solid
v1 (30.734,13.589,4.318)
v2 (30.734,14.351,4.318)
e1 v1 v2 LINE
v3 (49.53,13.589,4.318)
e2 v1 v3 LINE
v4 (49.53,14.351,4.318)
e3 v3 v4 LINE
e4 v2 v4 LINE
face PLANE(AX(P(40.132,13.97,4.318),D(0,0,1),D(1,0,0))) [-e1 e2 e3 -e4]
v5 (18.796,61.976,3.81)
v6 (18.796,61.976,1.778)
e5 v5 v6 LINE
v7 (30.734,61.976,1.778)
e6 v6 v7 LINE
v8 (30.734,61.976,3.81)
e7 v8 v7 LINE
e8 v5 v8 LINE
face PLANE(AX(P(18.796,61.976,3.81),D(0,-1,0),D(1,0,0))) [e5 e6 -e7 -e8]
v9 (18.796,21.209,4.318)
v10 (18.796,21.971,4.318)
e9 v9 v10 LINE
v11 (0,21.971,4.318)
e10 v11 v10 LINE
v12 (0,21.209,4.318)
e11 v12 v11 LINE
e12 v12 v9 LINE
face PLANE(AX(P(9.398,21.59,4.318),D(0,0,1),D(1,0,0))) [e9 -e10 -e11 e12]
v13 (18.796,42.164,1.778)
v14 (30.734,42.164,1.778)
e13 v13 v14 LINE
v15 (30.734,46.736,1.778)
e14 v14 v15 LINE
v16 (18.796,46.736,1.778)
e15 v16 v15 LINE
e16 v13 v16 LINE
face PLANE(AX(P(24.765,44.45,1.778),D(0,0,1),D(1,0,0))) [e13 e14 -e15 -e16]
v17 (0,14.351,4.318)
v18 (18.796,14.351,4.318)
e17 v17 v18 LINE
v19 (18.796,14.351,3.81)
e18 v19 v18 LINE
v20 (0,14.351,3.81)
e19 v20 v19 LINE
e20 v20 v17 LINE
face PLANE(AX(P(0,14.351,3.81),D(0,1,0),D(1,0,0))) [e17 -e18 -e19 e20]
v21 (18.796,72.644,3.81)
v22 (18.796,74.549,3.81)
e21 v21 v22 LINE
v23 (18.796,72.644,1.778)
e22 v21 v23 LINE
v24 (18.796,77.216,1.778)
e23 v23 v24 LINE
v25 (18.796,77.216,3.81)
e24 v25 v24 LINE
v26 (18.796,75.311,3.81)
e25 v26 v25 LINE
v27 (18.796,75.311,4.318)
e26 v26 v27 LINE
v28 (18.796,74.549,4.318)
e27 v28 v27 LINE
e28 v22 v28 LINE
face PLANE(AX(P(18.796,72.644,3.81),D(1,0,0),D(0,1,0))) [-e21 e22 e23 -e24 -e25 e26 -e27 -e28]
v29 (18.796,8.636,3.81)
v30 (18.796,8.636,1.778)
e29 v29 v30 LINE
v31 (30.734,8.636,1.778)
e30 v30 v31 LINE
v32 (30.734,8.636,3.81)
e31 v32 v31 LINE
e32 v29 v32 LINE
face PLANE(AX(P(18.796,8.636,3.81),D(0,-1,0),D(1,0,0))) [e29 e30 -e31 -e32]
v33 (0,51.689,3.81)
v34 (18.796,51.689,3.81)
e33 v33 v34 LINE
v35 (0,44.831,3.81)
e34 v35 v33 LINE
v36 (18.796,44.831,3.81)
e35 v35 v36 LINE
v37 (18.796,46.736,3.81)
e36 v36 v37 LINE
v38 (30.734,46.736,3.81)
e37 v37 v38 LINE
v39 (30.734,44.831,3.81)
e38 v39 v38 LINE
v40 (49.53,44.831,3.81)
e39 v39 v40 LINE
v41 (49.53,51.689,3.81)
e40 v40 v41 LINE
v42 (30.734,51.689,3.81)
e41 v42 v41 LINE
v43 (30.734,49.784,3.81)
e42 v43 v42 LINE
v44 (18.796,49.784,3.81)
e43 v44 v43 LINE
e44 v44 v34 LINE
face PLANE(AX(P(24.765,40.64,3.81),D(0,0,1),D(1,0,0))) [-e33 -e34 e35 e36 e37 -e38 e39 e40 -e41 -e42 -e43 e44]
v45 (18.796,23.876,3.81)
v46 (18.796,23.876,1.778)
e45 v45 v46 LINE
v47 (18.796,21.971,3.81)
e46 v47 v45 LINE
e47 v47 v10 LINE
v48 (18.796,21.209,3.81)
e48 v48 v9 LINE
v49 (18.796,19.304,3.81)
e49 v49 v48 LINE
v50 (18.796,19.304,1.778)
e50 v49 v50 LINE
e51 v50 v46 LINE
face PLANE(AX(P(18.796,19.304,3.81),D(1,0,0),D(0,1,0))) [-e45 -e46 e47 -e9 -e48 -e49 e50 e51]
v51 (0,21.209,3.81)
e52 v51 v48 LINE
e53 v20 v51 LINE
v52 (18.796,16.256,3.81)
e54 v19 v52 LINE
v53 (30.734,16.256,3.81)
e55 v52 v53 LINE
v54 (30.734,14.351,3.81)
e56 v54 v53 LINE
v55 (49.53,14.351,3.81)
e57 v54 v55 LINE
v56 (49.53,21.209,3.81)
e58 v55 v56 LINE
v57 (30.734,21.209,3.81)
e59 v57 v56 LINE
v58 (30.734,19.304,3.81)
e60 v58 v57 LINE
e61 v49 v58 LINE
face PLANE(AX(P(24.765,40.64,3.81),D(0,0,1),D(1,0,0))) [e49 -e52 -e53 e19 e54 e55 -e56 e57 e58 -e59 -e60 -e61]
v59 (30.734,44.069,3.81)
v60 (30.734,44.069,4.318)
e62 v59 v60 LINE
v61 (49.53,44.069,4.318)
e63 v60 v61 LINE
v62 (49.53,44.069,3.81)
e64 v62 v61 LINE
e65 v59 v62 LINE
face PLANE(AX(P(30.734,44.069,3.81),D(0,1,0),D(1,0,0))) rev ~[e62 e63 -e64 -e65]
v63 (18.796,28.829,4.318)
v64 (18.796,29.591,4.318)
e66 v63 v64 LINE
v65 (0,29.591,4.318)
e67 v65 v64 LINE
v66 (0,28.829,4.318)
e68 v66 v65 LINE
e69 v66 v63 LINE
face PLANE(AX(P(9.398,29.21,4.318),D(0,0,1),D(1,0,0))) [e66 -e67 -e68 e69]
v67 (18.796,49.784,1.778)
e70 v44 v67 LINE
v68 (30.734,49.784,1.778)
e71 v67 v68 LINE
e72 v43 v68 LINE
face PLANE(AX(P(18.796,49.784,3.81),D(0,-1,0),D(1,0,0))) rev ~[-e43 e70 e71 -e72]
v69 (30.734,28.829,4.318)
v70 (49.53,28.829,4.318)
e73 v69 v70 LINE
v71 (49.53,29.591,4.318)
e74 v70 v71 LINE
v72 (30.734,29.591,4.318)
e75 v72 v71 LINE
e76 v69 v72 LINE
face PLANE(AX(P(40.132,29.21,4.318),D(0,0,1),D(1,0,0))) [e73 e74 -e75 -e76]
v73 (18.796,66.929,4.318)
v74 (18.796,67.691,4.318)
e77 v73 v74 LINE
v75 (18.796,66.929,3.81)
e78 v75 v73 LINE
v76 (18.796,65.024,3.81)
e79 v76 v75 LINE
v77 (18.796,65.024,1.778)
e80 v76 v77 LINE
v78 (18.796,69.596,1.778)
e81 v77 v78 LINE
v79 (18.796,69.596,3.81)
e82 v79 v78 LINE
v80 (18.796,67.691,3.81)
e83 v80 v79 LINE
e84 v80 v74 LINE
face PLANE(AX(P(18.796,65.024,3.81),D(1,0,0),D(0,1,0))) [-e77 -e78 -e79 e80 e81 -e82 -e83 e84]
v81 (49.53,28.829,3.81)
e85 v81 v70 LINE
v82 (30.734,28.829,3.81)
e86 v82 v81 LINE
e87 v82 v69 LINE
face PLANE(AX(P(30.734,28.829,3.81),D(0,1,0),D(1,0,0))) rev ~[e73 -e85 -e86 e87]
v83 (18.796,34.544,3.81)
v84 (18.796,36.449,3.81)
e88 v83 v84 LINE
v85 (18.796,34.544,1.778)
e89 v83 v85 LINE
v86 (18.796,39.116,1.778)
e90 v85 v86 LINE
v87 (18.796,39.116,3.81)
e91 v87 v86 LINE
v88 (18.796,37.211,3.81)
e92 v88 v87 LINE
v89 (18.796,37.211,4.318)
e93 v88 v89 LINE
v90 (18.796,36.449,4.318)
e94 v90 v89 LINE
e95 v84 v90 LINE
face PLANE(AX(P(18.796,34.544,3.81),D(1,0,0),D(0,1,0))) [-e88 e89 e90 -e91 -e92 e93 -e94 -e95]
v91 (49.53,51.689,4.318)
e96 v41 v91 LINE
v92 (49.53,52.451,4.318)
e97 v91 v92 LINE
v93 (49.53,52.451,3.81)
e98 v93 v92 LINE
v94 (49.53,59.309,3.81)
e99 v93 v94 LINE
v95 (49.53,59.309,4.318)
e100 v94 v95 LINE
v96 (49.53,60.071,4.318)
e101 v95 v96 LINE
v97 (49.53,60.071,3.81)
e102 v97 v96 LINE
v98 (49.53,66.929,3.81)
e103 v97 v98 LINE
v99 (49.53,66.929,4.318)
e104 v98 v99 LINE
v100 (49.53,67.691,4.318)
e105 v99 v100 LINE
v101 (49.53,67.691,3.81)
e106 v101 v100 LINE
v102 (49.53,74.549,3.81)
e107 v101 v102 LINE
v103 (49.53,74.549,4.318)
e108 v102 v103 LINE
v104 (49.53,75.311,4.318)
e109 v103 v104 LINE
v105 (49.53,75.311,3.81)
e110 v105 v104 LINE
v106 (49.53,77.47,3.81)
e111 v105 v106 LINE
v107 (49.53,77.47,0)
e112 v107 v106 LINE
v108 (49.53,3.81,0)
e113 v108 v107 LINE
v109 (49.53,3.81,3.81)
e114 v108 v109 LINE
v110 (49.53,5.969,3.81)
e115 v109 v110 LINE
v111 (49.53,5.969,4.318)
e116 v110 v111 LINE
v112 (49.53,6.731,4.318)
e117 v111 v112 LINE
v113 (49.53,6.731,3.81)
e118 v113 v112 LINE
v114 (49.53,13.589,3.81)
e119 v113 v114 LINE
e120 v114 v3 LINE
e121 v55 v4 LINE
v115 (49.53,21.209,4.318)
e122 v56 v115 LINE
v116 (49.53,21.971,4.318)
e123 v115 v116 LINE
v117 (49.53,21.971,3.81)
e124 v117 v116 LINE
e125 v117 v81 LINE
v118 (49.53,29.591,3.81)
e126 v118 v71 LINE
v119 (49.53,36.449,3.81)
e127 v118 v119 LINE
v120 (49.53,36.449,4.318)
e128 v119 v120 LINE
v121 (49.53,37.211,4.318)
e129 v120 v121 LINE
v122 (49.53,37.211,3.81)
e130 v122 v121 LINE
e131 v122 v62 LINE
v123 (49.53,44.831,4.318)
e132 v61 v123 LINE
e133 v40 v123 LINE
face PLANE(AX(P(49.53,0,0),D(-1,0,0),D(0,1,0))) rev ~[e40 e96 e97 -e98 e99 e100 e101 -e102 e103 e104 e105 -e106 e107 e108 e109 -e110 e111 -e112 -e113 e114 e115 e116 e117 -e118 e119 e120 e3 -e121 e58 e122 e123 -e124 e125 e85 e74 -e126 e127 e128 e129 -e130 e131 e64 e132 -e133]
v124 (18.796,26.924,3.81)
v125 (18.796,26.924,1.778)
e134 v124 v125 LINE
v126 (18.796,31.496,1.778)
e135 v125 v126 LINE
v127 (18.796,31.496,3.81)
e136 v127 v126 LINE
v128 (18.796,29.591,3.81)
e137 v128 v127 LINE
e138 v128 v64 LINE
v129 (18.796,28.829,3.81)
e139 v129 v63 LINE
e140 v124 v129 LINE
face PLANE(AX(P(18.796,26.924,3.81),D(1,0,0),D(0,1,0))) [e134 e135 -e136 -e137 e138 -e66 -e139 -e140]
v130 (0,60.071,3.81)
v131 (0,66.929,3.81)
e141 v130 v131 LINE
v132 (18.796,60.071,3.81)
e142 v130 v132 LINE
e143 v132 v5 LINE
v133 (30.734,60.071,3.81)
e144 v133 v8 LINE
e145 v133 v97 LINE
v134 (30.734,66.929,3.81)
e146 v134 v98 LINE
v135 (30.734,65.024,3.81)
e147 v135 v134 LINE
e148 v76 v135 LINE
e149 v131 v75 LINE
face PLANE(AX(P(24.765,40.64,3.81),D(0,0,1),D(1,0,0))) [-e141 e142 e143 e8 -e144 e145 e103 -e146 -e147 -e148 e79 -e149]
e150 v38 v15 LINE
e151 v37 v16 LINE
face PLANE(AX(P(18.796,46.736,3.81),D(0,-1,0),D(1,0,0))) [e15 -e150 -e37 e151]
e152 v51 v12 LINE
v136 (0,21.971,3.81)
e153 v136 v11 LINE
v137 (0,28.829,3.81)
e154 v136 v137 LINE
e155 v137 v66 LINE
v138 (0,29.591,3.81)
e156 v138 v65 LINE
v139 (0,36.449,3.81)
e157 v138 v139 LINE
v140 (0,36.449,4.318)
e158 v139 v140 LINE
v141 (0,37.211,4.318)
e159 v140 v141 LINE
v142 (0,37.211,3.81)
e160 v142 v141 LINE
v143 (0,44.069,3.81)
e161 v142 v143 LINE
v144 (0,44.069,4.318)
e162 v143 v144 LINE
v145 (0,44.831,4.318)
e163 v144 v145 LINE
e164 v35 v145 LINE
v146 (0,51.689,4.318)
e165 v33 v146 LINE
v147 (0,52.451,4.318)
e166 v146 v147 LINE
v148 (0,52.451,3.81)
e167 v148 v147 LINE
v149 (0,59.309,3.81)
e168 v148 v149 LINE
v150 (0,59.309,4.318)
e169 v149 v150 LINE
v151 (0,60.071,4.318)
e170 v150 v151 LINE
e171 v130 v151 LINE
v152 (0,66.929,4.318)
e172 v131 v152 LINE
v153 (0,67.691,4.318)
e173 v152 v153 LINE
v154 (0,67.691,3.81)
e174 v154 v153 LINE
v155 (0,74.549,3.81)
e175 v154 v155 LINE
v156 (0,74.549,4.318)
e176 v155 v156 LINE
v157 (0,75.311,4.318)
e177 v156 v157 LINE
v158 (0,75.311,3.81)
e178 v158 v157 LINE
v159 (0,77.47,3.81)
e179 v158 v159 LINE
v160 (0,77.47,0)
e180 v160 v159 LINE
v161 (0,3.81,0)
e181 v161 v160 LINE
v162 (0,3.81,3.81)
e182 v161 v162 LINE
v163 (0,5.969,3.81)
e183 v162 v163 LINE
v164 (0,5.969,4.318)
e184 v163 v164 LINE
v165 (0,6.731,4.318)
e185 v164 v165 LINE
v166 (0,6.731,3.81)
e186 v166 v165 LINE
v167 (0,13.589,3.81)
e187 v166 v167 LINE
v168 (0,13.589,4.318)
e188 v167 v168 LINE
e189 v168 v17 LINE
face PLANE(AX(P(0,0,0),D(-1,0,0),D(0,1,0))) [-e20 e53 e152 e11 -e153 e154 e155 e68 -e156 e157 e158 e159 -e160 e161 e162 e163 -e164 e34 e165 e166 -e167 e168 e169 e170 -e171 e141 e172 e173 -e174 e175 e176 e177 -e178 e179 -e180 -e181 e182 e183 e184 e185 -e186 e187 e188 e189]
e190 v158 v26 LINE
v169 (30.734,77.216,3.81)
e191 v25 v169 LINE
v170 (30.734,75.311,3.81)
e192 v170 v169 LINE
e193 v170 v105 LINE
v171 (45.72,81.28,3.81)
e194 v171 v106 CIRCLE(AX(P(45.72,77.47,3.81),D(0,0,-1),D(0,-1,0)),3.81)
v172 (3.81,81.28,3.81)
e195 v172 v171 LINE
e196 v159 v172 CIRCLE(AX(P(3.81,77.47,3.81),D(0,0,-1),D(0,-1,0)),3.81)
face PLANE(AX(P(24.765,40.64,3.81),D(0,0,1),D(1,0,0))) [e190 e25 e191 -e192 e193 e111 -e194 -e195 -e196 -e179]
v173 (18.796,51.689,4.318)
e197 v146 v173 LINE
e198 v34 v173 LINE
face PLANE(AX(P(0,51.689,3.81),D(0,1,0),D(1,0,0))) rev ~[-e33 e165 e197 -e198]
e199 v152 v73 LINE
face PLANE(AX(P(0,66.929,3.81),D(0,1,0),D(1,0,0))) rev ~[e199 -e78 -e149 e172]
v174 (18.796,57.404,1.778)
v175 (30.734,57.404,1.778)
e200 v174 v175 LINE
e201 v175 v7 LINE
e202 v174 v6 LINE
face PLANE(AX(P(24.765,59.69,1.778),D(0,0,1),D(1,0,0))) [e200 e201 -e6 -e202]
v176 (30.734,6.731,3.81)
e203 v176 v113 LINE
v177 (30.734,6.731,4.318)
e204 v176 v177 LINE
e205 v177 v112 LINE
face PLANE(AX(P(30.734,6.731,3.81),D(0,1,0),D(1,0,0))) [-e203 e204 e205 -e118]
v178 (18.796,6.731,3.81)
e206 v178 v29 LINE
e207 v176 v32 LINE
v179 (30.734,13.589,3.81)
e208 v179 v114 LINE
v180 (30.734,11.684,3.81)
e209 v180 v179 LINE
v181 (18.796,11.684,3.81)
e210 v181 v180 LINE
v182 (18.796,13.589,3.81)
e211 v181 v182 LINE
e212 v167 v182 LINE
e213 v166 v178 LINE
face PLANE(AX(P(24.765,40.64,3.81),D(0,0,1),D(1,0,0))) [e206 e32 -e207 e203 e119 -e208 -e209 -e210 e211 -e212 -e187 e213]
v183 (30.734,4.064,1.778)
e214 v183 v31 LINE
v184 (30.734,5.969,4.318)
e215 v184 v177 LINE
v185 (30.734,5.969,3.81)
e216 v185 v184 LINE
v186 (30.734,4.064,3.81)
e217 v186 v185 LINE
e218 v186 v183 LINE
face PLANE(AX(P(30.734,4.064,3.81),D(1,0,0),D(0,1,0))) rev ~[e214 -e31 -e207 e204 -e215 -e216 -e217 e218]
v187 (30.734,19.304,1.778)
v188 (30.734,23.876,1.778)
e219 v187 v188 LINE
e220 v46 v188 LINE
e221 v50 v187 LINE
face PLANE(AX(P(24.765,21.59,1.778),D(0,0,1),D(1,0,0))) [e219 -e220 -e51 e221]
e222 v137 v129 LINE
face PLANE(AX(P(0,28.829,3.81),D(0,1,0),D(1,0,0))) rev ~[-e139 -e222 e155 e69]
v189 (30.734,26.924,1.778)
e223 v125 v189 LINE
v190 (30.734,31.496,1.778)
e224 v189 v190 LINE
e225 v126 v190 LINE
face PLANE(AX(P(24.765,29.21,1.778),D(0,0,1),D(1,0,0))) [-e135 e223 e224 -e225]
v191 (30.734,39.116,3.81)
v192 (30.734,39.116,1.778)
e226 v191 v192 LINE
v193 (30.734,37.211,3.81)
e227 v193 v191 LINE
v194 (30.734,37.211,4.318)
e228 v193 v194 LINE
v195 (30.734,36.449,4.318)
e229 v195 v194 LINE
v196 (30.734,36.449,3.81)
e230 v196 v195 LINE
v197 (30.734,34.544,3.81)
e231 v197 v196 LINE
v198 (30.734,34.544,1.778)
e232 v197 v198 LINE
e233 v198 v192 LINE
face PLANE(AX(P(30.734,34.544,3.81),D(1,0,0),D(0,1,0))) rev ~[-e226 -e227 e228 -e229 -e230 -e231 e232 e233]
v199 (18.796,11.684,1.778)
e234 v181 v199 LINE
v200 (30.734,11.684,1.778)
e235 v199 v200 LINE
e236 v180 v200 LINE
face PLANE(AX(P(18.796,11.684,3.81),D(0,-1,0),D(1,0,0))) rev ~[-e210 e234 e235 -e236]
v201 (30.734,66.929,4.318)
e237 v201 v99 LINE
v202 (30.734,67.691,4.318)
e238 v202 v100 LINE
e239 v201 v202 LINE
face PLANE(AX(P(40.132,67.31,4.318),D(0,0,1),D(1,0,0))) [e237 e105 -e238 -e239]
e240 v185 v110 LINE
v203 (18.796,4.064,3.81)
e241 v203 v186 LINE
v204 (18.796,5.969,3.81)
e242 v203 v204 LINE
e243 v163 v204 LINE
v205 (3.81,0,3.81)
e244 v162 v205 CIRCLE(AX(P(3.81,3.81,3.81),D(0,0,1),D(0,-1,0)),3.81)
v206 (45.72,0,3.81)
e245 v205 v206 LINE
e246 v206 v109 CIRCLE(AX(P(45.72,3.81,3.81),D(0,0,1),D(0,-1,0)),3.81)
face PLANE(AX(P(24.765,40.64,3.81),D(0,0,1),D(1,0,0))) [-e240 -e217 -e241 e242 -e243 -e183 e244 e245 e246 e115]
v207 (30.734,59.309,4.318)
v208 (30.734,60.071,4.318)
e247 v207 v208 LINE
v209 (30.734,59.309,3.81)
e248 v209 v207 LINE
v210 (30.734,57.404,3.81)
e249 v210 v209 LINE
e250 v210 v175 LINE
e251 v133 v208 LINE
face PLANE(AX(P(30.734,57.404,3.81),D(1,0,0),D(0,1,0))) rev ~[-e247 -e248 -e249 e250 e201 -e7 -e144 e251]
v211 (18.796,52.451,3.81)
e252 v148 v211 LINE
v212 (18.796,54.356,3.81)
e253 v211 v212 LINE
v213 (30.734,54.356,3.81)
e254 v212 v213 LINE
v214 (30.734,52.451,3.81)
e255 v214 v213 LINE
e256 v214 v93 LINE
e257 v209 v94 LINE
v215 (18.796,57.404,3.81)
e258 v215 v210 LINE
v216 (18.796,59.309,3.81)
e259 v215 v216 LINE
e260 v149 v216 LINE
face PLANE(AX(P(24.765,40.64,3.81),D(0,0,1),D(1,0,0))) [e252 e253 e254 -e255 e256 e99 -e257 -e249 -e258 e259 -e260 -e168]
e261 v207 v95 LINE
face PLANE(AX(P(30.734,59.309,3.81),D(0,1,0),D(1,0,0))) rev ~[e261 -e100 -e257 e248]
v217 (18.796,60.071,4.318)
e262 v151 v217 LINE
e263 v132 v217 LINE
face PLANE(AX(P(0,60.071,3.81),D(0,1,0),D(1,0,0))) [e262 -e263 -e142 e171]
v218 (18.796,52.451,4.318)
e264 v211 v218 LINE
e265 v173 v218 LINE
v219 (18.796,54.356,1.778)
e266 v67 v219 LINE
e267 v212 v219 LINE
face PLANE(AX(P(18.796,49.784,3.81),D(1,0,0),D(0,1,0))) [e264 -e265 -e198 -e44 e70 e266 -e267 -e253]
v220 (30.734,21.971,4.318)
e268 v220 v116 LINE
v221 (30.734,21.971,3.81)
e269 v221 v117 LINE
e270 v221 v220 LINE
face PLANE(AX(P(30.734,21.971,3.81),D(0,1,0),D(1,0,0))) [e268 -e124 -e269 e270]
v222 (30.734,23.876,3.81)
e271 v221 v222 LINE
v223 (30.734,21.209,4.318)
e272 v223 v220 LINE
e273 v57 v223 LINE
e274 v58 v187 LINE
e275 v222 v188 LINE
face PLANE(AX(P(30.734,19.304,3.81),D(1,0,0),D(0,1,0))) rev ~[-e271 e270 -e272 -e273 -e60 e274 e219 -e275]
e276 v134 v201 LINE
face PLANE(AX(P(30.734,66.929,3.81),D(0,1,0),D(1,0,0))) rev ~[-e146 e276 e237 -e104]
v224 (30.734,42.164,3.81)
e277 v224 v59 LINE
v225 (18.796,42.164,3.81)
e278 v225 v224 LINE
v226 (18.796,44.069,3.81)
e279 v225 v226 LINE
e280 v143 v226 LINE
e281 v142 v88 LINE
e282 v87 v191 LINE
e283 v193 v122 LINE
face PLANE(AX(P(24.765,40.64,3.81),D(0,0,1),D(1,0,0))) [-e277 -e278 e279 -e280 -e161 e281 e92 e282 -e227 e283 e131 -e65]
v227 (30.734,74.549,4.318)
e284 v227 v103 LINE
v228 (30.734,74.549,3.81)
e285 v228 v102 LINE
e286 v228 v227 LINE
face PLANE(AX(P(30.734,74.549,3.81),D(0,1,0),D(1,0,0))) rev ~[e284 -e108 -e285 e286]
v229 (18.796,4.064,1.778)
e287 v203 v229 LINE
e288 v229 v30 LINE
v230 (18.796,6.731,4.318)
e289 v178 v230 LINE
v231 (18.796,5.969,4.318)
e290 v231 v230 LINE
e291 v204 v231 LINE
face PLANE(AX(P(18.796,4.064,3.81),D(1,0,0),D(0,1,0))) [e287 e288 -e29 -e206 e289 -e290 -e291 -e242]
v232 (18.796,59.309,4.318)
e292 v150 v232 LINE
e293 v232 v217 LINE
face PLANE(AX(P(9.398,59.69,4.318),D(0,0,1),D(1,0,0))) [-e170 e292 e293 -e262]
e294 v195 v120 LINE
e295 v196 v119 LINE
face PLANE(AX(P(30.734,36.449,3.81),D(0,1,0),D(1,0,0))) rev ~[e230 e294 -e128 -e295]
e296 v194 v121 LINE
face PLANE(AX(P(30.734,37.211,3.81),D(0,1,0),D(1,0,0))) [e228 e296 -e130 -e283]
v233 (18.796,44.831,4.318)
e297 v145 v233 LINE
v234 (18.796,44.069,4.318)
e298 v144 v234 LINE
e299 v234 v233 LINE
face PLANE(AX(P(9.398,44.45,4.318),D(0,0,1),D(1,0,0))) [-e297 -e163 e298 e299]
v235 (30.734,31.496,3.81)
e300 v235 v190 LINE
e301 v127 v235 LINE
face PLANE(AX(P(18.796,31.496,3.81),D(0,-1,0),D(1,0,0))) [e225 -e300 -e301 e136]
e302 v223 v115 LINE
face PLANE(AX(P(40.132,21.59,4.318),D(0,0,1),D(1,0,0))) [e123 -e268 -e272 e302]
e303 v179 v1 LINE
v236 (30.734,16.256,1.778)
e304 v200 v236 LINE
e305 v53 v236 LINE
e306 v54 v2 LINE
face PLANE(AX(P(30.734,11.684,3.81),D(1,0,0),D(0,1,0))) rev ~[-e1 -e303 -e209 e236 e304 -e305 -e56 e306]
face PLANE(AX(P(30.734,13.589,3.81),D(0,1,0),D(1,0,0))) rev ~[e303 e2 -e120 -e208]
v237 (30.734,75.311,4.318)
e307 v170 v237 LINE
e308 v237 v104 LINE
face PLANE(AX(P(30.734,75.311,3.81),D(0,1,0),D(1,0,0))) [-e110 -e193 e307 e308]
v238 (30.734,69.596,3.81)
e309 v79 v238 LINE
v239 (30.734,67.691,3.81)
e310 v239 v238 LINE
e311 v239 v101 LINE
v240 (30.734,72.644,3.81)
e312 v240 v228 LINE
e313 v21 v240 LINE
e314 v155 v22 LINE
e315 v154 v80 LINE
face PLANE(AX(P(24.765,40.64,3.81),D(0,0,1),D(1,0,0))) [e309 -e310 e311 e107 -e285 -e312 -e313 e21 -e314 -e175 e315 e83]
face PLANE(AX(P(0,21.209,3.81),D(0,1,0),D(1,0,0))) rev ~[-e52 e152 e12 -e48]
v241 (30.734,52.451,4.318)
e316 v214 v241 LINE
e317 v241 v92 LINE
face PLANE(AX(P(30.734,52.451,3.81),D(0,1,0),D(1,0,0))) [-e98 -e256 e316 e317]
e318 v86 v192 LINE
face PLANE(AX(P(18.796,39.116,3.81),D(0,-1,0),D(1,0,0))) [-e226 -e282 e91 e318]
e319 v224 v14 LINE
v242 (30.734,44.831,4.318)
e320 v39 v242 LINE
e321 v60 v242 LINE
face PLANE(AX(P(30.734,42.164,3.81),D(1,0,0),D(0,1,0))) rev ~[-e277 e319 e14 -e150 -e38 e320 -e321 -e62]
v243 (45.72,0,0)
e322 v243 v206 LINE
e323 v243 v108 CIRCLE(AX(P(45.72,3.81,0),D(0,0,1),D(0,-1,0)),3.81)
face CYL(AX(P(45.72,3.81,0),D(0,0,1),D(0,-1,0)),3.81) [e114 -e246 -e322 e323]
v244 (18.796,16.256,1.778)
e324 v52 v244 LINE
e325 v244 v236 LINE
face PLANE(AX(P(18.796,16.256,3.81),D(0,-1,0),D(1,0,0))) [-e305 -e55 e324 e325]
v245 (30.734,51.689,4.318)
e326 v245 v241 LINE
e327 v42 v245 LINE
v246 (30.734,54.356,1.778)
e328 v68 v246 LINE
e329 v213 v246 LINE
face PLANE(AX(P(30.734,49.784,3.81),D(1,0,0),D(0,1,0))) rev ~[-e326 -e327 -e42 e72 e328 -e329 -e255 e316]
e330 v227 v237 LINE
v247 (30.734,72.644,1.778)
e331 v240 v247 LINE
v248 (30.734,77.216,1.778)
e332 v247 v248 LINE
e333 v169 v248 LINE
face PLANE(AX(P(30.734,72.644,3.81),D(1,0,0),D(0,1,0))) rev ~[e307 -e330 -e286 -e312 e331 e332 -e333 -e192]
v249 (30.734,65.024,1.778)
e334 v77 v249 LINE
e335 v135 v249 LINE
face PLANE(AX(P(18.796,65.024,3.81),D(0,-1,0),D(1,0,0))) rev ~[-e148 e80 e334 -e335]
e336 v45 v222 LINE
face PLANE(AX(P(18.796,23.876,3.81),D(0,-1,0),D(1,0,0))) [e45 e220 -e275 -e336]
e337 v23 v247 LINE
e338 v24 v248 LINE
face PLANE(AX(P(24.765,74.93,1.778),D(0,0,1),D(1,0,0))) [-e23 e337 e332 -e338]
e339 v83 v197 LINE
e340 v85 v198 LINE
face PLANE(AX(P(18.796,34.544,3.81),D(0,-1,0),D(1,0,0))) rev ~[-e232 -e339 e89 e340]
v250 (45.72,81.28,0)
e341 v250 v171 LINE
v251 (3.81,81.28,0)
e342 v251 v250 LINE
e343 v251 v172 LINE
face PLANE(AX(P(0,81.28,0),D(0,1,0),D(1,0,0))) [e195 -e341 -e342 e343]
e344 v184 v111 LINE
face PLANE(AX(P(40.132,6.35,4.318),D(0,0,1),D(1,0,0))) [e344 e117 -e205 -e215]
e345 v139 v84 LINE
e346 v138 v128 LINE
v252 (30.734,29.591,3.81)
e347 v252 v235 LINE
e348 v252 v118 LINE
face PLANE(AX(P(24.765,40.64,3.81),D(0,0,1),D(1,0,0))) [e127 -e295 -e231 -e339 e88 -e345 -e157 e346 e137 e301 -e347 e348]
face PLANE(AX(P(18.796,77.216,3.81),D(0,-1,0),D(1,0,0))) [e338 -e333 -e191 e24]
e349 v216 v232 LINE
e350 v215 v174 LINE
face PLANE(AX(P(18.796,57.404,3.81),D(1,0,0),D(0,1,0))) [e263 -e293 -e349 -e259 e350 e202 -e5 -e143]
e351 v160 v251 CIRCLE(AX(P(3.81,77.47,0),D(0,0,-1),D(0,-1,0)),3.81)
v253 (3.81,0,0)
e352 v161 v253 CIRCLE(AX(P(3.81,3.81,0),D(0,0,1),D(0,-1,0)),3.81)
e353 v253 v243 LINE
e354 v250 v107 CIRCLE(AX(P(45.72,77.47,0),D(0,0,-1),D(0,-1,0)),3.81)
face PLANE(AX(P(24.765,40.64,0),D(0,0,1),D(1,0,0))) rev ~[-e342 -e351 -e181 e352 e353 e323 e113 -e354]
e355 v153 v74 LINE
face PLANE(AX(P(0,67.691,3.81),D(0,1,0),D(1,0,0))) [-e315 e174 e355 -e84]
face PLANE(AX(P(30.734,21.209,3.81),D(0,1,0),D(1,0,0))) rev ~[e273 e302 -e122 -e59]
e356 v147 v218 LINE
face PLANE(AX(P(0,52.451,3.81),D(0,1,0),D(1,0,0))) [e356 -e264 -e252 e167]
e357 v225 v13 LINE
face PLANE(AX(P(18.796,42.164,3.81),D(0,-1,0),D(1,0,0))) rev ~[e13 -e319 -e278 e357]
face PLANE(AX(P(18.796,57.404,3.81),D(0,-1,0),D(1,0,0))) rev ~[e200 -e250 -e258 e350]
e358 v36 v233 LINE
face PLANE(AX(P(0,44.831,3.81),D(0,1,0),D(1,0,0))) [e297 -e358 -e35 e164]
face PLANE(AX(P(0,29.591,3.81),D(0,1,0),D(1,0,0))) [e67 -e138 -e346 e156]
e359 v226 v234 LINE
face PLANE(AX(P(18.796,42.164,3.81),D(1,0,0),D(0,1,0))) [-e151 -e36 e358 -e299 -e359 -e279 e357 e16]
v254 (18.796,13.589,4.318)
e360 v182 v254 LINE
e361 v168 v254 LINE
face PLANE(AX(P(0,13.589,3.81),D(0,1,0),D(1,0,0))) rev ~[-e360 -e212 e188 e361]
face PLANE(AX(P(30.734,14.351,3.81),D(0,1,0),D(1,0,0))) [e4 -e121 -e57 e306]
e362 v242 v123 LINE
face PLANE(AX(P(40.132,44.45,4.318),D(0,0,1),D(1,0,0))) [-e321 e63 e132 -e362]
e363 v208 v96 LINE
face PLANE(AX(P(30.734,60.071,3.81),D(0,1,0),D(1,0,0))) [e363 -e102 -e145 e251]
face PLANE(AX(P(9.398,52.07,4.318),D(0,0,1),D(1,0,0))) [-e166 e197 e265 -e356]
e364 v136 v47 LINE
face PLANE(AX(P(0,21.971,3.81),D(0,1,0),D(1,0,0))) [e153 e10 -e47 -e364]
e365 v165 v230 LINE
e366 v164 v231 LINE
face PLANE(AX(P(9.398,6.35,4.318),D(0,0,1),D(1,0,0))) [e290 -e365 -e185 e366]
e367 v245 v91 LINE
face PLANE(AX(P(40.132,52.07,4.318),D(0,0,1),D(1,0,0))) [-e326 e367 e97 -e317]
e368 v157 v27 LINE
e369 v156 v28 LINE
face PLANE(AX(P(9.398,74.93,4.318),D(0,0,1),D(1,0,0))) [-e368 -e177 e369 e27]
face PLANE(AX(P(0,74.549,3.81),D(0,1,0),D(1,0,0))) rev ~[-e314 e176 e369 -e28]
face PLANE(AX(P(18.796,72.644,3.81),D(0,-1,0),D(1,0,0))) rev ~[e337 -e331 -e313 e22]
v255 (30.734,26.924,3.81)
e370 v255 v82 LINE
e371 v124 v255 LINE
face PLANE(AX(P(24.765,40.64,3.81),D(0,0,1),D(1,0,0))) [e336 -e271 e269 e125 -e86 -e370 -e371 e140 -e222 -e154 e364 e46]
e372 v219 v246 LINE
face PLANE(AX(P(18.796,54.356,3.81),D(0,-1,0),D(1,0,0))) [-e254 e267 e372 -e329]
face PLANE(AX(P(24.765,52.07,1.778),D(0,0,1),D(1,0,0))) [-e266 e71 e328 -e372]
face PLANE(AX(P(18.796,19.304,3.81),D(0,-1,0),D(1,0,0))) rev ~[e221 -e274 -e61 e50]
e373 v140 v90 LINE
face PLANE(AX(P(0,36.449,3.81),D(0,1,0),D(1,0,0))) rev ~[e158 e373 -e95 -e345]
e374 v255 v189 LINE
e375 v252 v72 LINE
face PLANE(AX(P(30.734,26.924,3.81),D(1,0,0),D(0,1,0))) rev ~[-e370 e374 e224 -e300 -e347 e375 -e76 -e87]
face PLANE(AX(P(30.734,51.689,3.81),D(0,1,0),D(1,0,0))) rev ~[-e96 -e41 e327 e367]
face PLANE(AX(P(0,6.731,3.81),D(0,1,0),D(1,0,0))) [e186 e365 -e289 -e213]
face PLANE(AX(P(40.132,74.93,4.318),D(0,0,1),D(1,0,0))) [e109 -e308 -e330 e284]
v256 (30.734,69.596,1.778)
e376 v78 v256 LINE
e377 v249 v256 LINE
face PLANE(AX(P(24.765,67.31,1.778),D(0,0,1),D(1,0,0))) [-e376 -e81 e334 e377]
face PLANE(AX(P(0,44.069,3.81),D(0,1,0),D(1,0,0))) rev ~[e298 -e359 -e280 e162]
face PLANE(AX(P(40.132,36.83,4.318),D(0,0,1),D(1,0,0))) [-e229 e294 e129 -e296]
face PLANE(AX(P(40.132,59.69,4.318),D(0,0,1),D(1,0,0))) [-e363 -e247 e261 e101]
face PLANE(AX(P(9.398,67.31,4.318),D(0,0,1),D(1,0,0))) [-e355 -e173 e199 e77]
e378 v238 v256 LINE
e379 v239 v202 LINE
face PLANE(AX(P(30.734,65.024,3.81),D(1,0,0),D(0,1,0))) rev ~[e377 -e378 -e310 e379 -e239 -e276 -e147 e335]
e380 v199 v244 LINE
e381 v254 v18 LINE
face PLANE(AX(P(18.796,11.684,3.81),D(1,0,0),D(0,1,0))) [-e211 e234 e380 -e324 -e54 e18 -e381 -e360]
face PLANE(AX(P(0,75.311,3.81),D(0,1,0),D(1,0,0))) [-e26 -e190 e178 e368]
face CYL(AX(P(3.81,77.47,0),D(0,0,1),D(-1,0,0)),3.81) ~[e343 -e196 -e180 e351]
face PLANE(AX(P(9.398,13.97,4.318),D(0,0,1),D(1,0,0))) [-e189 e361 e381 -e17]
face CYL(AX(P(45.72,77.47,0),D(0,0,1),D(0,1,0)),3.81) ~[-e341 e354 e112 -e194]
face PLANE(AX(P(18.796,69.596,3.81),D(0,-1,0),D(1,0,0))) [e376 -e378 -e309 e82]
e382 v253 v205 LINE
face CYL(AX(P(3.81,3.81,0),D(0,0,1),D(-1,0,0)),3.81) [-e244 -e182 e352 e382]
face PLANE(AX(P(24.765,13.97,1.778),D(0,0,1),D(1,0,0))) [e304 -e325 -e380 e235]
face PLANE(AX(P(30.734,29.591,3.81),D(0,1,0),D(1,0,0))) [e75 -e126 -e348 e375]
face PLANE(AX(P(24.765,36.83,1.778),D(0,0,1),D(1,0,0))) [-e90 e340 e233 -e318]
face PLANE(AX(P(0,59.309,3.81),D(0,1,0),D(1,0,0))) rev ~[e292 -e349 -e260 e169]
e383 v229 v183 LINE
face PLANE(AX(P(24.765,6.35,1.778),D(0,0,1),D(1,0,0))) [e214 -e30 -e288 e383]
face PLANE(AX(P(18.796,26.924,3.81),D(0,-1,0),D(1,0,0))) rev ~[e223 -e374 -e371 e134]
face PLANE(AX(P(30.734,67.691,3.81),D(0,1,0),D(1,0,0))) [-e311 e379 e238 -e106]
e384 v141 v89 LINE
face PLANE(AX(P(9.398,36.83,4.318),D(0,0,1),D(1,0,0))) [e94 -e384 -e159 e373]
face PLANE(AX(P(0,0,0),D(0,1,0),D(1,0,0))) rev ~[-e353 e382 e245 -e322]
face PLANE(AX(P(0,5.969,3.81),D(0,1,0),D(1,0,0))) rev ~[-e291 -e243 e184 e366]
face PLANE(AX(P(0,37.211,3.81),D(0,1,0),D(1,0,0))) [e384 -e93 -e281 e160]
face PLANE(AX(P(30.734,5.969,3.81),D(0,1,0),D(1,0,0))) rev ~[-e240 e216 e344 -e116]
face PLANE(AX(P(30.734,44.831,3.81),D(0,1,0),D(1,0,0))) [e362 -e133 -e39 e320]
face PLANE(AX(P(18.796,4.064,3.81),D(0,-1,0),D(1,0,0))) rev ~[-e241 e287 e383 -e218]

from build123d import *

# Parameters (mm, degrees)
F0_W     = 49.53
F0_H     = 81.28
F1_DEPTH = 3.81
F2_W     = 11.938
F2_H     = 4.572
F3_DEPTH = 2.032
F4_W     = 18.796
F4_H     = 0.762
F5_DEPTH = 0.508
F6_R     = 3.81


with BuildPart() as f1:
    # F0 (on Top) → F1 (new body)
    with BuildSketch(Plane.XY):
        with Locations((24.765, 40.64)):
            Rectangle(F0_W, F0_H)
    extrude(amount=F1_DEPTH)

    # F2 (on face) → F3 (cut)
    with BuildSketch(Plane.XY.offset(3.81)):
        with Locations((24.765, 6.35)):
            Rectangle(F2_W, F2_H)
        with Locations((24.765, 13.97)):
            Rectangle(F2_W, F2_H)
        with Locations((24.765, 21.59)):
            Rectangle(F2_W, F2_H)
        with Locations((24.765, 29.21)):
            Rectangle(F2_W, F2_H)
        with Locations((24.765, 36.83)):
            Rectangle(F2_W, F2_H)
        with Locations((24.765, 44.45)):
            Rectangle(F2_W, F2_H)
        with Locations((24.765, 52.07)):
            Rectangle(F2_W, F2_H)
        with Locations((24.765, 59.69)):
            Rectangle(F2_W, F2_H)
        with Locations((24.765, 67.31)):
            Rectangle(F2_W, F2_H)
        with Locations((24.765, 74.93)):
            Rectangle(F2_W, F2_H)
    extrude(amount=-F3_DEPTH, mode=Mode.SUBTRACT)

    # F4 (on face) → F5 (join)
    with BuildSketch(Plane.XY.offset(3.81)):
        with Locations((40.132, 6.35)):
            Rectangle(F4_W, F4_H)
        with Locations((9.398, 6.35)):
            Rectangle(F4_W, F4_H)
        with Locations((9.398, 13.97)):
            Rectangle(F4_W, F4_H)
        with Locations((40.132, 13.97)):
            Rectangle(F4_W, F4_H)
        with Locations((9.398, 21.59)):
            Rectangle(F4_W, F4_H)
        with Locations((40.132, 21.59)):
            Rectangle(F4_W, F4_H)
        with Locations((9.398, 29.21)):
            Rectangle(F4_W, F4_H)
        with Locations((40.132, 29.21)):
            Rectangle(F4_W, F4_H)
        with Locations((9.398, 36.83)):
            Rectangle(F4_W, F4_H)
        with Locations((40.132, 36.83)):
            Rectangle(F4_W, F4_H)
        with Locations((9.398, 44.45)):
            Rectangle(F4_W, F4_H)
        with Locations((40.132, 44.45)):
            Rectangle(F4_W, F4_H)
        with Locations((9.398, 52.07)):
            Rectangle(F4_W, F4_H)
        with Locations((40.132, 52.07)):
            Rectangle(F4_W, F4_H)
        with Locations((9.398, 59.69)):
            Rectangle(F4_W, F4_H)
        with Locations((40.132, 59.69)):
            Rectangle(F4_W, F4_H)
        with Locations((9.398, 67.31)):
            Rectangle(F4_W, F4_H)
        with Locations((40.132, 67.31)):
            Rectangle(F4_W, F4_H)
        with Locations((9.398, 74.93)):
            Rectangle(F4_W, F4_H)
        with Locations((40.132, 74.93)):
            Rectangle(F4_W, F4_H)
    extrude(amount=F5_DEPTH)

    # F6
    f6_edges = [f1.edges().sort_by_distance(p)[0] for p in [
        (49.53, 0, 1.905),
        (0, 0, 1.905),
        (0, 81.28, 1.905),
        (49.53, 81.28, 1.905),
    ]]
    fillet(f6_edges, radius=F6_R)


solid = f1.part
